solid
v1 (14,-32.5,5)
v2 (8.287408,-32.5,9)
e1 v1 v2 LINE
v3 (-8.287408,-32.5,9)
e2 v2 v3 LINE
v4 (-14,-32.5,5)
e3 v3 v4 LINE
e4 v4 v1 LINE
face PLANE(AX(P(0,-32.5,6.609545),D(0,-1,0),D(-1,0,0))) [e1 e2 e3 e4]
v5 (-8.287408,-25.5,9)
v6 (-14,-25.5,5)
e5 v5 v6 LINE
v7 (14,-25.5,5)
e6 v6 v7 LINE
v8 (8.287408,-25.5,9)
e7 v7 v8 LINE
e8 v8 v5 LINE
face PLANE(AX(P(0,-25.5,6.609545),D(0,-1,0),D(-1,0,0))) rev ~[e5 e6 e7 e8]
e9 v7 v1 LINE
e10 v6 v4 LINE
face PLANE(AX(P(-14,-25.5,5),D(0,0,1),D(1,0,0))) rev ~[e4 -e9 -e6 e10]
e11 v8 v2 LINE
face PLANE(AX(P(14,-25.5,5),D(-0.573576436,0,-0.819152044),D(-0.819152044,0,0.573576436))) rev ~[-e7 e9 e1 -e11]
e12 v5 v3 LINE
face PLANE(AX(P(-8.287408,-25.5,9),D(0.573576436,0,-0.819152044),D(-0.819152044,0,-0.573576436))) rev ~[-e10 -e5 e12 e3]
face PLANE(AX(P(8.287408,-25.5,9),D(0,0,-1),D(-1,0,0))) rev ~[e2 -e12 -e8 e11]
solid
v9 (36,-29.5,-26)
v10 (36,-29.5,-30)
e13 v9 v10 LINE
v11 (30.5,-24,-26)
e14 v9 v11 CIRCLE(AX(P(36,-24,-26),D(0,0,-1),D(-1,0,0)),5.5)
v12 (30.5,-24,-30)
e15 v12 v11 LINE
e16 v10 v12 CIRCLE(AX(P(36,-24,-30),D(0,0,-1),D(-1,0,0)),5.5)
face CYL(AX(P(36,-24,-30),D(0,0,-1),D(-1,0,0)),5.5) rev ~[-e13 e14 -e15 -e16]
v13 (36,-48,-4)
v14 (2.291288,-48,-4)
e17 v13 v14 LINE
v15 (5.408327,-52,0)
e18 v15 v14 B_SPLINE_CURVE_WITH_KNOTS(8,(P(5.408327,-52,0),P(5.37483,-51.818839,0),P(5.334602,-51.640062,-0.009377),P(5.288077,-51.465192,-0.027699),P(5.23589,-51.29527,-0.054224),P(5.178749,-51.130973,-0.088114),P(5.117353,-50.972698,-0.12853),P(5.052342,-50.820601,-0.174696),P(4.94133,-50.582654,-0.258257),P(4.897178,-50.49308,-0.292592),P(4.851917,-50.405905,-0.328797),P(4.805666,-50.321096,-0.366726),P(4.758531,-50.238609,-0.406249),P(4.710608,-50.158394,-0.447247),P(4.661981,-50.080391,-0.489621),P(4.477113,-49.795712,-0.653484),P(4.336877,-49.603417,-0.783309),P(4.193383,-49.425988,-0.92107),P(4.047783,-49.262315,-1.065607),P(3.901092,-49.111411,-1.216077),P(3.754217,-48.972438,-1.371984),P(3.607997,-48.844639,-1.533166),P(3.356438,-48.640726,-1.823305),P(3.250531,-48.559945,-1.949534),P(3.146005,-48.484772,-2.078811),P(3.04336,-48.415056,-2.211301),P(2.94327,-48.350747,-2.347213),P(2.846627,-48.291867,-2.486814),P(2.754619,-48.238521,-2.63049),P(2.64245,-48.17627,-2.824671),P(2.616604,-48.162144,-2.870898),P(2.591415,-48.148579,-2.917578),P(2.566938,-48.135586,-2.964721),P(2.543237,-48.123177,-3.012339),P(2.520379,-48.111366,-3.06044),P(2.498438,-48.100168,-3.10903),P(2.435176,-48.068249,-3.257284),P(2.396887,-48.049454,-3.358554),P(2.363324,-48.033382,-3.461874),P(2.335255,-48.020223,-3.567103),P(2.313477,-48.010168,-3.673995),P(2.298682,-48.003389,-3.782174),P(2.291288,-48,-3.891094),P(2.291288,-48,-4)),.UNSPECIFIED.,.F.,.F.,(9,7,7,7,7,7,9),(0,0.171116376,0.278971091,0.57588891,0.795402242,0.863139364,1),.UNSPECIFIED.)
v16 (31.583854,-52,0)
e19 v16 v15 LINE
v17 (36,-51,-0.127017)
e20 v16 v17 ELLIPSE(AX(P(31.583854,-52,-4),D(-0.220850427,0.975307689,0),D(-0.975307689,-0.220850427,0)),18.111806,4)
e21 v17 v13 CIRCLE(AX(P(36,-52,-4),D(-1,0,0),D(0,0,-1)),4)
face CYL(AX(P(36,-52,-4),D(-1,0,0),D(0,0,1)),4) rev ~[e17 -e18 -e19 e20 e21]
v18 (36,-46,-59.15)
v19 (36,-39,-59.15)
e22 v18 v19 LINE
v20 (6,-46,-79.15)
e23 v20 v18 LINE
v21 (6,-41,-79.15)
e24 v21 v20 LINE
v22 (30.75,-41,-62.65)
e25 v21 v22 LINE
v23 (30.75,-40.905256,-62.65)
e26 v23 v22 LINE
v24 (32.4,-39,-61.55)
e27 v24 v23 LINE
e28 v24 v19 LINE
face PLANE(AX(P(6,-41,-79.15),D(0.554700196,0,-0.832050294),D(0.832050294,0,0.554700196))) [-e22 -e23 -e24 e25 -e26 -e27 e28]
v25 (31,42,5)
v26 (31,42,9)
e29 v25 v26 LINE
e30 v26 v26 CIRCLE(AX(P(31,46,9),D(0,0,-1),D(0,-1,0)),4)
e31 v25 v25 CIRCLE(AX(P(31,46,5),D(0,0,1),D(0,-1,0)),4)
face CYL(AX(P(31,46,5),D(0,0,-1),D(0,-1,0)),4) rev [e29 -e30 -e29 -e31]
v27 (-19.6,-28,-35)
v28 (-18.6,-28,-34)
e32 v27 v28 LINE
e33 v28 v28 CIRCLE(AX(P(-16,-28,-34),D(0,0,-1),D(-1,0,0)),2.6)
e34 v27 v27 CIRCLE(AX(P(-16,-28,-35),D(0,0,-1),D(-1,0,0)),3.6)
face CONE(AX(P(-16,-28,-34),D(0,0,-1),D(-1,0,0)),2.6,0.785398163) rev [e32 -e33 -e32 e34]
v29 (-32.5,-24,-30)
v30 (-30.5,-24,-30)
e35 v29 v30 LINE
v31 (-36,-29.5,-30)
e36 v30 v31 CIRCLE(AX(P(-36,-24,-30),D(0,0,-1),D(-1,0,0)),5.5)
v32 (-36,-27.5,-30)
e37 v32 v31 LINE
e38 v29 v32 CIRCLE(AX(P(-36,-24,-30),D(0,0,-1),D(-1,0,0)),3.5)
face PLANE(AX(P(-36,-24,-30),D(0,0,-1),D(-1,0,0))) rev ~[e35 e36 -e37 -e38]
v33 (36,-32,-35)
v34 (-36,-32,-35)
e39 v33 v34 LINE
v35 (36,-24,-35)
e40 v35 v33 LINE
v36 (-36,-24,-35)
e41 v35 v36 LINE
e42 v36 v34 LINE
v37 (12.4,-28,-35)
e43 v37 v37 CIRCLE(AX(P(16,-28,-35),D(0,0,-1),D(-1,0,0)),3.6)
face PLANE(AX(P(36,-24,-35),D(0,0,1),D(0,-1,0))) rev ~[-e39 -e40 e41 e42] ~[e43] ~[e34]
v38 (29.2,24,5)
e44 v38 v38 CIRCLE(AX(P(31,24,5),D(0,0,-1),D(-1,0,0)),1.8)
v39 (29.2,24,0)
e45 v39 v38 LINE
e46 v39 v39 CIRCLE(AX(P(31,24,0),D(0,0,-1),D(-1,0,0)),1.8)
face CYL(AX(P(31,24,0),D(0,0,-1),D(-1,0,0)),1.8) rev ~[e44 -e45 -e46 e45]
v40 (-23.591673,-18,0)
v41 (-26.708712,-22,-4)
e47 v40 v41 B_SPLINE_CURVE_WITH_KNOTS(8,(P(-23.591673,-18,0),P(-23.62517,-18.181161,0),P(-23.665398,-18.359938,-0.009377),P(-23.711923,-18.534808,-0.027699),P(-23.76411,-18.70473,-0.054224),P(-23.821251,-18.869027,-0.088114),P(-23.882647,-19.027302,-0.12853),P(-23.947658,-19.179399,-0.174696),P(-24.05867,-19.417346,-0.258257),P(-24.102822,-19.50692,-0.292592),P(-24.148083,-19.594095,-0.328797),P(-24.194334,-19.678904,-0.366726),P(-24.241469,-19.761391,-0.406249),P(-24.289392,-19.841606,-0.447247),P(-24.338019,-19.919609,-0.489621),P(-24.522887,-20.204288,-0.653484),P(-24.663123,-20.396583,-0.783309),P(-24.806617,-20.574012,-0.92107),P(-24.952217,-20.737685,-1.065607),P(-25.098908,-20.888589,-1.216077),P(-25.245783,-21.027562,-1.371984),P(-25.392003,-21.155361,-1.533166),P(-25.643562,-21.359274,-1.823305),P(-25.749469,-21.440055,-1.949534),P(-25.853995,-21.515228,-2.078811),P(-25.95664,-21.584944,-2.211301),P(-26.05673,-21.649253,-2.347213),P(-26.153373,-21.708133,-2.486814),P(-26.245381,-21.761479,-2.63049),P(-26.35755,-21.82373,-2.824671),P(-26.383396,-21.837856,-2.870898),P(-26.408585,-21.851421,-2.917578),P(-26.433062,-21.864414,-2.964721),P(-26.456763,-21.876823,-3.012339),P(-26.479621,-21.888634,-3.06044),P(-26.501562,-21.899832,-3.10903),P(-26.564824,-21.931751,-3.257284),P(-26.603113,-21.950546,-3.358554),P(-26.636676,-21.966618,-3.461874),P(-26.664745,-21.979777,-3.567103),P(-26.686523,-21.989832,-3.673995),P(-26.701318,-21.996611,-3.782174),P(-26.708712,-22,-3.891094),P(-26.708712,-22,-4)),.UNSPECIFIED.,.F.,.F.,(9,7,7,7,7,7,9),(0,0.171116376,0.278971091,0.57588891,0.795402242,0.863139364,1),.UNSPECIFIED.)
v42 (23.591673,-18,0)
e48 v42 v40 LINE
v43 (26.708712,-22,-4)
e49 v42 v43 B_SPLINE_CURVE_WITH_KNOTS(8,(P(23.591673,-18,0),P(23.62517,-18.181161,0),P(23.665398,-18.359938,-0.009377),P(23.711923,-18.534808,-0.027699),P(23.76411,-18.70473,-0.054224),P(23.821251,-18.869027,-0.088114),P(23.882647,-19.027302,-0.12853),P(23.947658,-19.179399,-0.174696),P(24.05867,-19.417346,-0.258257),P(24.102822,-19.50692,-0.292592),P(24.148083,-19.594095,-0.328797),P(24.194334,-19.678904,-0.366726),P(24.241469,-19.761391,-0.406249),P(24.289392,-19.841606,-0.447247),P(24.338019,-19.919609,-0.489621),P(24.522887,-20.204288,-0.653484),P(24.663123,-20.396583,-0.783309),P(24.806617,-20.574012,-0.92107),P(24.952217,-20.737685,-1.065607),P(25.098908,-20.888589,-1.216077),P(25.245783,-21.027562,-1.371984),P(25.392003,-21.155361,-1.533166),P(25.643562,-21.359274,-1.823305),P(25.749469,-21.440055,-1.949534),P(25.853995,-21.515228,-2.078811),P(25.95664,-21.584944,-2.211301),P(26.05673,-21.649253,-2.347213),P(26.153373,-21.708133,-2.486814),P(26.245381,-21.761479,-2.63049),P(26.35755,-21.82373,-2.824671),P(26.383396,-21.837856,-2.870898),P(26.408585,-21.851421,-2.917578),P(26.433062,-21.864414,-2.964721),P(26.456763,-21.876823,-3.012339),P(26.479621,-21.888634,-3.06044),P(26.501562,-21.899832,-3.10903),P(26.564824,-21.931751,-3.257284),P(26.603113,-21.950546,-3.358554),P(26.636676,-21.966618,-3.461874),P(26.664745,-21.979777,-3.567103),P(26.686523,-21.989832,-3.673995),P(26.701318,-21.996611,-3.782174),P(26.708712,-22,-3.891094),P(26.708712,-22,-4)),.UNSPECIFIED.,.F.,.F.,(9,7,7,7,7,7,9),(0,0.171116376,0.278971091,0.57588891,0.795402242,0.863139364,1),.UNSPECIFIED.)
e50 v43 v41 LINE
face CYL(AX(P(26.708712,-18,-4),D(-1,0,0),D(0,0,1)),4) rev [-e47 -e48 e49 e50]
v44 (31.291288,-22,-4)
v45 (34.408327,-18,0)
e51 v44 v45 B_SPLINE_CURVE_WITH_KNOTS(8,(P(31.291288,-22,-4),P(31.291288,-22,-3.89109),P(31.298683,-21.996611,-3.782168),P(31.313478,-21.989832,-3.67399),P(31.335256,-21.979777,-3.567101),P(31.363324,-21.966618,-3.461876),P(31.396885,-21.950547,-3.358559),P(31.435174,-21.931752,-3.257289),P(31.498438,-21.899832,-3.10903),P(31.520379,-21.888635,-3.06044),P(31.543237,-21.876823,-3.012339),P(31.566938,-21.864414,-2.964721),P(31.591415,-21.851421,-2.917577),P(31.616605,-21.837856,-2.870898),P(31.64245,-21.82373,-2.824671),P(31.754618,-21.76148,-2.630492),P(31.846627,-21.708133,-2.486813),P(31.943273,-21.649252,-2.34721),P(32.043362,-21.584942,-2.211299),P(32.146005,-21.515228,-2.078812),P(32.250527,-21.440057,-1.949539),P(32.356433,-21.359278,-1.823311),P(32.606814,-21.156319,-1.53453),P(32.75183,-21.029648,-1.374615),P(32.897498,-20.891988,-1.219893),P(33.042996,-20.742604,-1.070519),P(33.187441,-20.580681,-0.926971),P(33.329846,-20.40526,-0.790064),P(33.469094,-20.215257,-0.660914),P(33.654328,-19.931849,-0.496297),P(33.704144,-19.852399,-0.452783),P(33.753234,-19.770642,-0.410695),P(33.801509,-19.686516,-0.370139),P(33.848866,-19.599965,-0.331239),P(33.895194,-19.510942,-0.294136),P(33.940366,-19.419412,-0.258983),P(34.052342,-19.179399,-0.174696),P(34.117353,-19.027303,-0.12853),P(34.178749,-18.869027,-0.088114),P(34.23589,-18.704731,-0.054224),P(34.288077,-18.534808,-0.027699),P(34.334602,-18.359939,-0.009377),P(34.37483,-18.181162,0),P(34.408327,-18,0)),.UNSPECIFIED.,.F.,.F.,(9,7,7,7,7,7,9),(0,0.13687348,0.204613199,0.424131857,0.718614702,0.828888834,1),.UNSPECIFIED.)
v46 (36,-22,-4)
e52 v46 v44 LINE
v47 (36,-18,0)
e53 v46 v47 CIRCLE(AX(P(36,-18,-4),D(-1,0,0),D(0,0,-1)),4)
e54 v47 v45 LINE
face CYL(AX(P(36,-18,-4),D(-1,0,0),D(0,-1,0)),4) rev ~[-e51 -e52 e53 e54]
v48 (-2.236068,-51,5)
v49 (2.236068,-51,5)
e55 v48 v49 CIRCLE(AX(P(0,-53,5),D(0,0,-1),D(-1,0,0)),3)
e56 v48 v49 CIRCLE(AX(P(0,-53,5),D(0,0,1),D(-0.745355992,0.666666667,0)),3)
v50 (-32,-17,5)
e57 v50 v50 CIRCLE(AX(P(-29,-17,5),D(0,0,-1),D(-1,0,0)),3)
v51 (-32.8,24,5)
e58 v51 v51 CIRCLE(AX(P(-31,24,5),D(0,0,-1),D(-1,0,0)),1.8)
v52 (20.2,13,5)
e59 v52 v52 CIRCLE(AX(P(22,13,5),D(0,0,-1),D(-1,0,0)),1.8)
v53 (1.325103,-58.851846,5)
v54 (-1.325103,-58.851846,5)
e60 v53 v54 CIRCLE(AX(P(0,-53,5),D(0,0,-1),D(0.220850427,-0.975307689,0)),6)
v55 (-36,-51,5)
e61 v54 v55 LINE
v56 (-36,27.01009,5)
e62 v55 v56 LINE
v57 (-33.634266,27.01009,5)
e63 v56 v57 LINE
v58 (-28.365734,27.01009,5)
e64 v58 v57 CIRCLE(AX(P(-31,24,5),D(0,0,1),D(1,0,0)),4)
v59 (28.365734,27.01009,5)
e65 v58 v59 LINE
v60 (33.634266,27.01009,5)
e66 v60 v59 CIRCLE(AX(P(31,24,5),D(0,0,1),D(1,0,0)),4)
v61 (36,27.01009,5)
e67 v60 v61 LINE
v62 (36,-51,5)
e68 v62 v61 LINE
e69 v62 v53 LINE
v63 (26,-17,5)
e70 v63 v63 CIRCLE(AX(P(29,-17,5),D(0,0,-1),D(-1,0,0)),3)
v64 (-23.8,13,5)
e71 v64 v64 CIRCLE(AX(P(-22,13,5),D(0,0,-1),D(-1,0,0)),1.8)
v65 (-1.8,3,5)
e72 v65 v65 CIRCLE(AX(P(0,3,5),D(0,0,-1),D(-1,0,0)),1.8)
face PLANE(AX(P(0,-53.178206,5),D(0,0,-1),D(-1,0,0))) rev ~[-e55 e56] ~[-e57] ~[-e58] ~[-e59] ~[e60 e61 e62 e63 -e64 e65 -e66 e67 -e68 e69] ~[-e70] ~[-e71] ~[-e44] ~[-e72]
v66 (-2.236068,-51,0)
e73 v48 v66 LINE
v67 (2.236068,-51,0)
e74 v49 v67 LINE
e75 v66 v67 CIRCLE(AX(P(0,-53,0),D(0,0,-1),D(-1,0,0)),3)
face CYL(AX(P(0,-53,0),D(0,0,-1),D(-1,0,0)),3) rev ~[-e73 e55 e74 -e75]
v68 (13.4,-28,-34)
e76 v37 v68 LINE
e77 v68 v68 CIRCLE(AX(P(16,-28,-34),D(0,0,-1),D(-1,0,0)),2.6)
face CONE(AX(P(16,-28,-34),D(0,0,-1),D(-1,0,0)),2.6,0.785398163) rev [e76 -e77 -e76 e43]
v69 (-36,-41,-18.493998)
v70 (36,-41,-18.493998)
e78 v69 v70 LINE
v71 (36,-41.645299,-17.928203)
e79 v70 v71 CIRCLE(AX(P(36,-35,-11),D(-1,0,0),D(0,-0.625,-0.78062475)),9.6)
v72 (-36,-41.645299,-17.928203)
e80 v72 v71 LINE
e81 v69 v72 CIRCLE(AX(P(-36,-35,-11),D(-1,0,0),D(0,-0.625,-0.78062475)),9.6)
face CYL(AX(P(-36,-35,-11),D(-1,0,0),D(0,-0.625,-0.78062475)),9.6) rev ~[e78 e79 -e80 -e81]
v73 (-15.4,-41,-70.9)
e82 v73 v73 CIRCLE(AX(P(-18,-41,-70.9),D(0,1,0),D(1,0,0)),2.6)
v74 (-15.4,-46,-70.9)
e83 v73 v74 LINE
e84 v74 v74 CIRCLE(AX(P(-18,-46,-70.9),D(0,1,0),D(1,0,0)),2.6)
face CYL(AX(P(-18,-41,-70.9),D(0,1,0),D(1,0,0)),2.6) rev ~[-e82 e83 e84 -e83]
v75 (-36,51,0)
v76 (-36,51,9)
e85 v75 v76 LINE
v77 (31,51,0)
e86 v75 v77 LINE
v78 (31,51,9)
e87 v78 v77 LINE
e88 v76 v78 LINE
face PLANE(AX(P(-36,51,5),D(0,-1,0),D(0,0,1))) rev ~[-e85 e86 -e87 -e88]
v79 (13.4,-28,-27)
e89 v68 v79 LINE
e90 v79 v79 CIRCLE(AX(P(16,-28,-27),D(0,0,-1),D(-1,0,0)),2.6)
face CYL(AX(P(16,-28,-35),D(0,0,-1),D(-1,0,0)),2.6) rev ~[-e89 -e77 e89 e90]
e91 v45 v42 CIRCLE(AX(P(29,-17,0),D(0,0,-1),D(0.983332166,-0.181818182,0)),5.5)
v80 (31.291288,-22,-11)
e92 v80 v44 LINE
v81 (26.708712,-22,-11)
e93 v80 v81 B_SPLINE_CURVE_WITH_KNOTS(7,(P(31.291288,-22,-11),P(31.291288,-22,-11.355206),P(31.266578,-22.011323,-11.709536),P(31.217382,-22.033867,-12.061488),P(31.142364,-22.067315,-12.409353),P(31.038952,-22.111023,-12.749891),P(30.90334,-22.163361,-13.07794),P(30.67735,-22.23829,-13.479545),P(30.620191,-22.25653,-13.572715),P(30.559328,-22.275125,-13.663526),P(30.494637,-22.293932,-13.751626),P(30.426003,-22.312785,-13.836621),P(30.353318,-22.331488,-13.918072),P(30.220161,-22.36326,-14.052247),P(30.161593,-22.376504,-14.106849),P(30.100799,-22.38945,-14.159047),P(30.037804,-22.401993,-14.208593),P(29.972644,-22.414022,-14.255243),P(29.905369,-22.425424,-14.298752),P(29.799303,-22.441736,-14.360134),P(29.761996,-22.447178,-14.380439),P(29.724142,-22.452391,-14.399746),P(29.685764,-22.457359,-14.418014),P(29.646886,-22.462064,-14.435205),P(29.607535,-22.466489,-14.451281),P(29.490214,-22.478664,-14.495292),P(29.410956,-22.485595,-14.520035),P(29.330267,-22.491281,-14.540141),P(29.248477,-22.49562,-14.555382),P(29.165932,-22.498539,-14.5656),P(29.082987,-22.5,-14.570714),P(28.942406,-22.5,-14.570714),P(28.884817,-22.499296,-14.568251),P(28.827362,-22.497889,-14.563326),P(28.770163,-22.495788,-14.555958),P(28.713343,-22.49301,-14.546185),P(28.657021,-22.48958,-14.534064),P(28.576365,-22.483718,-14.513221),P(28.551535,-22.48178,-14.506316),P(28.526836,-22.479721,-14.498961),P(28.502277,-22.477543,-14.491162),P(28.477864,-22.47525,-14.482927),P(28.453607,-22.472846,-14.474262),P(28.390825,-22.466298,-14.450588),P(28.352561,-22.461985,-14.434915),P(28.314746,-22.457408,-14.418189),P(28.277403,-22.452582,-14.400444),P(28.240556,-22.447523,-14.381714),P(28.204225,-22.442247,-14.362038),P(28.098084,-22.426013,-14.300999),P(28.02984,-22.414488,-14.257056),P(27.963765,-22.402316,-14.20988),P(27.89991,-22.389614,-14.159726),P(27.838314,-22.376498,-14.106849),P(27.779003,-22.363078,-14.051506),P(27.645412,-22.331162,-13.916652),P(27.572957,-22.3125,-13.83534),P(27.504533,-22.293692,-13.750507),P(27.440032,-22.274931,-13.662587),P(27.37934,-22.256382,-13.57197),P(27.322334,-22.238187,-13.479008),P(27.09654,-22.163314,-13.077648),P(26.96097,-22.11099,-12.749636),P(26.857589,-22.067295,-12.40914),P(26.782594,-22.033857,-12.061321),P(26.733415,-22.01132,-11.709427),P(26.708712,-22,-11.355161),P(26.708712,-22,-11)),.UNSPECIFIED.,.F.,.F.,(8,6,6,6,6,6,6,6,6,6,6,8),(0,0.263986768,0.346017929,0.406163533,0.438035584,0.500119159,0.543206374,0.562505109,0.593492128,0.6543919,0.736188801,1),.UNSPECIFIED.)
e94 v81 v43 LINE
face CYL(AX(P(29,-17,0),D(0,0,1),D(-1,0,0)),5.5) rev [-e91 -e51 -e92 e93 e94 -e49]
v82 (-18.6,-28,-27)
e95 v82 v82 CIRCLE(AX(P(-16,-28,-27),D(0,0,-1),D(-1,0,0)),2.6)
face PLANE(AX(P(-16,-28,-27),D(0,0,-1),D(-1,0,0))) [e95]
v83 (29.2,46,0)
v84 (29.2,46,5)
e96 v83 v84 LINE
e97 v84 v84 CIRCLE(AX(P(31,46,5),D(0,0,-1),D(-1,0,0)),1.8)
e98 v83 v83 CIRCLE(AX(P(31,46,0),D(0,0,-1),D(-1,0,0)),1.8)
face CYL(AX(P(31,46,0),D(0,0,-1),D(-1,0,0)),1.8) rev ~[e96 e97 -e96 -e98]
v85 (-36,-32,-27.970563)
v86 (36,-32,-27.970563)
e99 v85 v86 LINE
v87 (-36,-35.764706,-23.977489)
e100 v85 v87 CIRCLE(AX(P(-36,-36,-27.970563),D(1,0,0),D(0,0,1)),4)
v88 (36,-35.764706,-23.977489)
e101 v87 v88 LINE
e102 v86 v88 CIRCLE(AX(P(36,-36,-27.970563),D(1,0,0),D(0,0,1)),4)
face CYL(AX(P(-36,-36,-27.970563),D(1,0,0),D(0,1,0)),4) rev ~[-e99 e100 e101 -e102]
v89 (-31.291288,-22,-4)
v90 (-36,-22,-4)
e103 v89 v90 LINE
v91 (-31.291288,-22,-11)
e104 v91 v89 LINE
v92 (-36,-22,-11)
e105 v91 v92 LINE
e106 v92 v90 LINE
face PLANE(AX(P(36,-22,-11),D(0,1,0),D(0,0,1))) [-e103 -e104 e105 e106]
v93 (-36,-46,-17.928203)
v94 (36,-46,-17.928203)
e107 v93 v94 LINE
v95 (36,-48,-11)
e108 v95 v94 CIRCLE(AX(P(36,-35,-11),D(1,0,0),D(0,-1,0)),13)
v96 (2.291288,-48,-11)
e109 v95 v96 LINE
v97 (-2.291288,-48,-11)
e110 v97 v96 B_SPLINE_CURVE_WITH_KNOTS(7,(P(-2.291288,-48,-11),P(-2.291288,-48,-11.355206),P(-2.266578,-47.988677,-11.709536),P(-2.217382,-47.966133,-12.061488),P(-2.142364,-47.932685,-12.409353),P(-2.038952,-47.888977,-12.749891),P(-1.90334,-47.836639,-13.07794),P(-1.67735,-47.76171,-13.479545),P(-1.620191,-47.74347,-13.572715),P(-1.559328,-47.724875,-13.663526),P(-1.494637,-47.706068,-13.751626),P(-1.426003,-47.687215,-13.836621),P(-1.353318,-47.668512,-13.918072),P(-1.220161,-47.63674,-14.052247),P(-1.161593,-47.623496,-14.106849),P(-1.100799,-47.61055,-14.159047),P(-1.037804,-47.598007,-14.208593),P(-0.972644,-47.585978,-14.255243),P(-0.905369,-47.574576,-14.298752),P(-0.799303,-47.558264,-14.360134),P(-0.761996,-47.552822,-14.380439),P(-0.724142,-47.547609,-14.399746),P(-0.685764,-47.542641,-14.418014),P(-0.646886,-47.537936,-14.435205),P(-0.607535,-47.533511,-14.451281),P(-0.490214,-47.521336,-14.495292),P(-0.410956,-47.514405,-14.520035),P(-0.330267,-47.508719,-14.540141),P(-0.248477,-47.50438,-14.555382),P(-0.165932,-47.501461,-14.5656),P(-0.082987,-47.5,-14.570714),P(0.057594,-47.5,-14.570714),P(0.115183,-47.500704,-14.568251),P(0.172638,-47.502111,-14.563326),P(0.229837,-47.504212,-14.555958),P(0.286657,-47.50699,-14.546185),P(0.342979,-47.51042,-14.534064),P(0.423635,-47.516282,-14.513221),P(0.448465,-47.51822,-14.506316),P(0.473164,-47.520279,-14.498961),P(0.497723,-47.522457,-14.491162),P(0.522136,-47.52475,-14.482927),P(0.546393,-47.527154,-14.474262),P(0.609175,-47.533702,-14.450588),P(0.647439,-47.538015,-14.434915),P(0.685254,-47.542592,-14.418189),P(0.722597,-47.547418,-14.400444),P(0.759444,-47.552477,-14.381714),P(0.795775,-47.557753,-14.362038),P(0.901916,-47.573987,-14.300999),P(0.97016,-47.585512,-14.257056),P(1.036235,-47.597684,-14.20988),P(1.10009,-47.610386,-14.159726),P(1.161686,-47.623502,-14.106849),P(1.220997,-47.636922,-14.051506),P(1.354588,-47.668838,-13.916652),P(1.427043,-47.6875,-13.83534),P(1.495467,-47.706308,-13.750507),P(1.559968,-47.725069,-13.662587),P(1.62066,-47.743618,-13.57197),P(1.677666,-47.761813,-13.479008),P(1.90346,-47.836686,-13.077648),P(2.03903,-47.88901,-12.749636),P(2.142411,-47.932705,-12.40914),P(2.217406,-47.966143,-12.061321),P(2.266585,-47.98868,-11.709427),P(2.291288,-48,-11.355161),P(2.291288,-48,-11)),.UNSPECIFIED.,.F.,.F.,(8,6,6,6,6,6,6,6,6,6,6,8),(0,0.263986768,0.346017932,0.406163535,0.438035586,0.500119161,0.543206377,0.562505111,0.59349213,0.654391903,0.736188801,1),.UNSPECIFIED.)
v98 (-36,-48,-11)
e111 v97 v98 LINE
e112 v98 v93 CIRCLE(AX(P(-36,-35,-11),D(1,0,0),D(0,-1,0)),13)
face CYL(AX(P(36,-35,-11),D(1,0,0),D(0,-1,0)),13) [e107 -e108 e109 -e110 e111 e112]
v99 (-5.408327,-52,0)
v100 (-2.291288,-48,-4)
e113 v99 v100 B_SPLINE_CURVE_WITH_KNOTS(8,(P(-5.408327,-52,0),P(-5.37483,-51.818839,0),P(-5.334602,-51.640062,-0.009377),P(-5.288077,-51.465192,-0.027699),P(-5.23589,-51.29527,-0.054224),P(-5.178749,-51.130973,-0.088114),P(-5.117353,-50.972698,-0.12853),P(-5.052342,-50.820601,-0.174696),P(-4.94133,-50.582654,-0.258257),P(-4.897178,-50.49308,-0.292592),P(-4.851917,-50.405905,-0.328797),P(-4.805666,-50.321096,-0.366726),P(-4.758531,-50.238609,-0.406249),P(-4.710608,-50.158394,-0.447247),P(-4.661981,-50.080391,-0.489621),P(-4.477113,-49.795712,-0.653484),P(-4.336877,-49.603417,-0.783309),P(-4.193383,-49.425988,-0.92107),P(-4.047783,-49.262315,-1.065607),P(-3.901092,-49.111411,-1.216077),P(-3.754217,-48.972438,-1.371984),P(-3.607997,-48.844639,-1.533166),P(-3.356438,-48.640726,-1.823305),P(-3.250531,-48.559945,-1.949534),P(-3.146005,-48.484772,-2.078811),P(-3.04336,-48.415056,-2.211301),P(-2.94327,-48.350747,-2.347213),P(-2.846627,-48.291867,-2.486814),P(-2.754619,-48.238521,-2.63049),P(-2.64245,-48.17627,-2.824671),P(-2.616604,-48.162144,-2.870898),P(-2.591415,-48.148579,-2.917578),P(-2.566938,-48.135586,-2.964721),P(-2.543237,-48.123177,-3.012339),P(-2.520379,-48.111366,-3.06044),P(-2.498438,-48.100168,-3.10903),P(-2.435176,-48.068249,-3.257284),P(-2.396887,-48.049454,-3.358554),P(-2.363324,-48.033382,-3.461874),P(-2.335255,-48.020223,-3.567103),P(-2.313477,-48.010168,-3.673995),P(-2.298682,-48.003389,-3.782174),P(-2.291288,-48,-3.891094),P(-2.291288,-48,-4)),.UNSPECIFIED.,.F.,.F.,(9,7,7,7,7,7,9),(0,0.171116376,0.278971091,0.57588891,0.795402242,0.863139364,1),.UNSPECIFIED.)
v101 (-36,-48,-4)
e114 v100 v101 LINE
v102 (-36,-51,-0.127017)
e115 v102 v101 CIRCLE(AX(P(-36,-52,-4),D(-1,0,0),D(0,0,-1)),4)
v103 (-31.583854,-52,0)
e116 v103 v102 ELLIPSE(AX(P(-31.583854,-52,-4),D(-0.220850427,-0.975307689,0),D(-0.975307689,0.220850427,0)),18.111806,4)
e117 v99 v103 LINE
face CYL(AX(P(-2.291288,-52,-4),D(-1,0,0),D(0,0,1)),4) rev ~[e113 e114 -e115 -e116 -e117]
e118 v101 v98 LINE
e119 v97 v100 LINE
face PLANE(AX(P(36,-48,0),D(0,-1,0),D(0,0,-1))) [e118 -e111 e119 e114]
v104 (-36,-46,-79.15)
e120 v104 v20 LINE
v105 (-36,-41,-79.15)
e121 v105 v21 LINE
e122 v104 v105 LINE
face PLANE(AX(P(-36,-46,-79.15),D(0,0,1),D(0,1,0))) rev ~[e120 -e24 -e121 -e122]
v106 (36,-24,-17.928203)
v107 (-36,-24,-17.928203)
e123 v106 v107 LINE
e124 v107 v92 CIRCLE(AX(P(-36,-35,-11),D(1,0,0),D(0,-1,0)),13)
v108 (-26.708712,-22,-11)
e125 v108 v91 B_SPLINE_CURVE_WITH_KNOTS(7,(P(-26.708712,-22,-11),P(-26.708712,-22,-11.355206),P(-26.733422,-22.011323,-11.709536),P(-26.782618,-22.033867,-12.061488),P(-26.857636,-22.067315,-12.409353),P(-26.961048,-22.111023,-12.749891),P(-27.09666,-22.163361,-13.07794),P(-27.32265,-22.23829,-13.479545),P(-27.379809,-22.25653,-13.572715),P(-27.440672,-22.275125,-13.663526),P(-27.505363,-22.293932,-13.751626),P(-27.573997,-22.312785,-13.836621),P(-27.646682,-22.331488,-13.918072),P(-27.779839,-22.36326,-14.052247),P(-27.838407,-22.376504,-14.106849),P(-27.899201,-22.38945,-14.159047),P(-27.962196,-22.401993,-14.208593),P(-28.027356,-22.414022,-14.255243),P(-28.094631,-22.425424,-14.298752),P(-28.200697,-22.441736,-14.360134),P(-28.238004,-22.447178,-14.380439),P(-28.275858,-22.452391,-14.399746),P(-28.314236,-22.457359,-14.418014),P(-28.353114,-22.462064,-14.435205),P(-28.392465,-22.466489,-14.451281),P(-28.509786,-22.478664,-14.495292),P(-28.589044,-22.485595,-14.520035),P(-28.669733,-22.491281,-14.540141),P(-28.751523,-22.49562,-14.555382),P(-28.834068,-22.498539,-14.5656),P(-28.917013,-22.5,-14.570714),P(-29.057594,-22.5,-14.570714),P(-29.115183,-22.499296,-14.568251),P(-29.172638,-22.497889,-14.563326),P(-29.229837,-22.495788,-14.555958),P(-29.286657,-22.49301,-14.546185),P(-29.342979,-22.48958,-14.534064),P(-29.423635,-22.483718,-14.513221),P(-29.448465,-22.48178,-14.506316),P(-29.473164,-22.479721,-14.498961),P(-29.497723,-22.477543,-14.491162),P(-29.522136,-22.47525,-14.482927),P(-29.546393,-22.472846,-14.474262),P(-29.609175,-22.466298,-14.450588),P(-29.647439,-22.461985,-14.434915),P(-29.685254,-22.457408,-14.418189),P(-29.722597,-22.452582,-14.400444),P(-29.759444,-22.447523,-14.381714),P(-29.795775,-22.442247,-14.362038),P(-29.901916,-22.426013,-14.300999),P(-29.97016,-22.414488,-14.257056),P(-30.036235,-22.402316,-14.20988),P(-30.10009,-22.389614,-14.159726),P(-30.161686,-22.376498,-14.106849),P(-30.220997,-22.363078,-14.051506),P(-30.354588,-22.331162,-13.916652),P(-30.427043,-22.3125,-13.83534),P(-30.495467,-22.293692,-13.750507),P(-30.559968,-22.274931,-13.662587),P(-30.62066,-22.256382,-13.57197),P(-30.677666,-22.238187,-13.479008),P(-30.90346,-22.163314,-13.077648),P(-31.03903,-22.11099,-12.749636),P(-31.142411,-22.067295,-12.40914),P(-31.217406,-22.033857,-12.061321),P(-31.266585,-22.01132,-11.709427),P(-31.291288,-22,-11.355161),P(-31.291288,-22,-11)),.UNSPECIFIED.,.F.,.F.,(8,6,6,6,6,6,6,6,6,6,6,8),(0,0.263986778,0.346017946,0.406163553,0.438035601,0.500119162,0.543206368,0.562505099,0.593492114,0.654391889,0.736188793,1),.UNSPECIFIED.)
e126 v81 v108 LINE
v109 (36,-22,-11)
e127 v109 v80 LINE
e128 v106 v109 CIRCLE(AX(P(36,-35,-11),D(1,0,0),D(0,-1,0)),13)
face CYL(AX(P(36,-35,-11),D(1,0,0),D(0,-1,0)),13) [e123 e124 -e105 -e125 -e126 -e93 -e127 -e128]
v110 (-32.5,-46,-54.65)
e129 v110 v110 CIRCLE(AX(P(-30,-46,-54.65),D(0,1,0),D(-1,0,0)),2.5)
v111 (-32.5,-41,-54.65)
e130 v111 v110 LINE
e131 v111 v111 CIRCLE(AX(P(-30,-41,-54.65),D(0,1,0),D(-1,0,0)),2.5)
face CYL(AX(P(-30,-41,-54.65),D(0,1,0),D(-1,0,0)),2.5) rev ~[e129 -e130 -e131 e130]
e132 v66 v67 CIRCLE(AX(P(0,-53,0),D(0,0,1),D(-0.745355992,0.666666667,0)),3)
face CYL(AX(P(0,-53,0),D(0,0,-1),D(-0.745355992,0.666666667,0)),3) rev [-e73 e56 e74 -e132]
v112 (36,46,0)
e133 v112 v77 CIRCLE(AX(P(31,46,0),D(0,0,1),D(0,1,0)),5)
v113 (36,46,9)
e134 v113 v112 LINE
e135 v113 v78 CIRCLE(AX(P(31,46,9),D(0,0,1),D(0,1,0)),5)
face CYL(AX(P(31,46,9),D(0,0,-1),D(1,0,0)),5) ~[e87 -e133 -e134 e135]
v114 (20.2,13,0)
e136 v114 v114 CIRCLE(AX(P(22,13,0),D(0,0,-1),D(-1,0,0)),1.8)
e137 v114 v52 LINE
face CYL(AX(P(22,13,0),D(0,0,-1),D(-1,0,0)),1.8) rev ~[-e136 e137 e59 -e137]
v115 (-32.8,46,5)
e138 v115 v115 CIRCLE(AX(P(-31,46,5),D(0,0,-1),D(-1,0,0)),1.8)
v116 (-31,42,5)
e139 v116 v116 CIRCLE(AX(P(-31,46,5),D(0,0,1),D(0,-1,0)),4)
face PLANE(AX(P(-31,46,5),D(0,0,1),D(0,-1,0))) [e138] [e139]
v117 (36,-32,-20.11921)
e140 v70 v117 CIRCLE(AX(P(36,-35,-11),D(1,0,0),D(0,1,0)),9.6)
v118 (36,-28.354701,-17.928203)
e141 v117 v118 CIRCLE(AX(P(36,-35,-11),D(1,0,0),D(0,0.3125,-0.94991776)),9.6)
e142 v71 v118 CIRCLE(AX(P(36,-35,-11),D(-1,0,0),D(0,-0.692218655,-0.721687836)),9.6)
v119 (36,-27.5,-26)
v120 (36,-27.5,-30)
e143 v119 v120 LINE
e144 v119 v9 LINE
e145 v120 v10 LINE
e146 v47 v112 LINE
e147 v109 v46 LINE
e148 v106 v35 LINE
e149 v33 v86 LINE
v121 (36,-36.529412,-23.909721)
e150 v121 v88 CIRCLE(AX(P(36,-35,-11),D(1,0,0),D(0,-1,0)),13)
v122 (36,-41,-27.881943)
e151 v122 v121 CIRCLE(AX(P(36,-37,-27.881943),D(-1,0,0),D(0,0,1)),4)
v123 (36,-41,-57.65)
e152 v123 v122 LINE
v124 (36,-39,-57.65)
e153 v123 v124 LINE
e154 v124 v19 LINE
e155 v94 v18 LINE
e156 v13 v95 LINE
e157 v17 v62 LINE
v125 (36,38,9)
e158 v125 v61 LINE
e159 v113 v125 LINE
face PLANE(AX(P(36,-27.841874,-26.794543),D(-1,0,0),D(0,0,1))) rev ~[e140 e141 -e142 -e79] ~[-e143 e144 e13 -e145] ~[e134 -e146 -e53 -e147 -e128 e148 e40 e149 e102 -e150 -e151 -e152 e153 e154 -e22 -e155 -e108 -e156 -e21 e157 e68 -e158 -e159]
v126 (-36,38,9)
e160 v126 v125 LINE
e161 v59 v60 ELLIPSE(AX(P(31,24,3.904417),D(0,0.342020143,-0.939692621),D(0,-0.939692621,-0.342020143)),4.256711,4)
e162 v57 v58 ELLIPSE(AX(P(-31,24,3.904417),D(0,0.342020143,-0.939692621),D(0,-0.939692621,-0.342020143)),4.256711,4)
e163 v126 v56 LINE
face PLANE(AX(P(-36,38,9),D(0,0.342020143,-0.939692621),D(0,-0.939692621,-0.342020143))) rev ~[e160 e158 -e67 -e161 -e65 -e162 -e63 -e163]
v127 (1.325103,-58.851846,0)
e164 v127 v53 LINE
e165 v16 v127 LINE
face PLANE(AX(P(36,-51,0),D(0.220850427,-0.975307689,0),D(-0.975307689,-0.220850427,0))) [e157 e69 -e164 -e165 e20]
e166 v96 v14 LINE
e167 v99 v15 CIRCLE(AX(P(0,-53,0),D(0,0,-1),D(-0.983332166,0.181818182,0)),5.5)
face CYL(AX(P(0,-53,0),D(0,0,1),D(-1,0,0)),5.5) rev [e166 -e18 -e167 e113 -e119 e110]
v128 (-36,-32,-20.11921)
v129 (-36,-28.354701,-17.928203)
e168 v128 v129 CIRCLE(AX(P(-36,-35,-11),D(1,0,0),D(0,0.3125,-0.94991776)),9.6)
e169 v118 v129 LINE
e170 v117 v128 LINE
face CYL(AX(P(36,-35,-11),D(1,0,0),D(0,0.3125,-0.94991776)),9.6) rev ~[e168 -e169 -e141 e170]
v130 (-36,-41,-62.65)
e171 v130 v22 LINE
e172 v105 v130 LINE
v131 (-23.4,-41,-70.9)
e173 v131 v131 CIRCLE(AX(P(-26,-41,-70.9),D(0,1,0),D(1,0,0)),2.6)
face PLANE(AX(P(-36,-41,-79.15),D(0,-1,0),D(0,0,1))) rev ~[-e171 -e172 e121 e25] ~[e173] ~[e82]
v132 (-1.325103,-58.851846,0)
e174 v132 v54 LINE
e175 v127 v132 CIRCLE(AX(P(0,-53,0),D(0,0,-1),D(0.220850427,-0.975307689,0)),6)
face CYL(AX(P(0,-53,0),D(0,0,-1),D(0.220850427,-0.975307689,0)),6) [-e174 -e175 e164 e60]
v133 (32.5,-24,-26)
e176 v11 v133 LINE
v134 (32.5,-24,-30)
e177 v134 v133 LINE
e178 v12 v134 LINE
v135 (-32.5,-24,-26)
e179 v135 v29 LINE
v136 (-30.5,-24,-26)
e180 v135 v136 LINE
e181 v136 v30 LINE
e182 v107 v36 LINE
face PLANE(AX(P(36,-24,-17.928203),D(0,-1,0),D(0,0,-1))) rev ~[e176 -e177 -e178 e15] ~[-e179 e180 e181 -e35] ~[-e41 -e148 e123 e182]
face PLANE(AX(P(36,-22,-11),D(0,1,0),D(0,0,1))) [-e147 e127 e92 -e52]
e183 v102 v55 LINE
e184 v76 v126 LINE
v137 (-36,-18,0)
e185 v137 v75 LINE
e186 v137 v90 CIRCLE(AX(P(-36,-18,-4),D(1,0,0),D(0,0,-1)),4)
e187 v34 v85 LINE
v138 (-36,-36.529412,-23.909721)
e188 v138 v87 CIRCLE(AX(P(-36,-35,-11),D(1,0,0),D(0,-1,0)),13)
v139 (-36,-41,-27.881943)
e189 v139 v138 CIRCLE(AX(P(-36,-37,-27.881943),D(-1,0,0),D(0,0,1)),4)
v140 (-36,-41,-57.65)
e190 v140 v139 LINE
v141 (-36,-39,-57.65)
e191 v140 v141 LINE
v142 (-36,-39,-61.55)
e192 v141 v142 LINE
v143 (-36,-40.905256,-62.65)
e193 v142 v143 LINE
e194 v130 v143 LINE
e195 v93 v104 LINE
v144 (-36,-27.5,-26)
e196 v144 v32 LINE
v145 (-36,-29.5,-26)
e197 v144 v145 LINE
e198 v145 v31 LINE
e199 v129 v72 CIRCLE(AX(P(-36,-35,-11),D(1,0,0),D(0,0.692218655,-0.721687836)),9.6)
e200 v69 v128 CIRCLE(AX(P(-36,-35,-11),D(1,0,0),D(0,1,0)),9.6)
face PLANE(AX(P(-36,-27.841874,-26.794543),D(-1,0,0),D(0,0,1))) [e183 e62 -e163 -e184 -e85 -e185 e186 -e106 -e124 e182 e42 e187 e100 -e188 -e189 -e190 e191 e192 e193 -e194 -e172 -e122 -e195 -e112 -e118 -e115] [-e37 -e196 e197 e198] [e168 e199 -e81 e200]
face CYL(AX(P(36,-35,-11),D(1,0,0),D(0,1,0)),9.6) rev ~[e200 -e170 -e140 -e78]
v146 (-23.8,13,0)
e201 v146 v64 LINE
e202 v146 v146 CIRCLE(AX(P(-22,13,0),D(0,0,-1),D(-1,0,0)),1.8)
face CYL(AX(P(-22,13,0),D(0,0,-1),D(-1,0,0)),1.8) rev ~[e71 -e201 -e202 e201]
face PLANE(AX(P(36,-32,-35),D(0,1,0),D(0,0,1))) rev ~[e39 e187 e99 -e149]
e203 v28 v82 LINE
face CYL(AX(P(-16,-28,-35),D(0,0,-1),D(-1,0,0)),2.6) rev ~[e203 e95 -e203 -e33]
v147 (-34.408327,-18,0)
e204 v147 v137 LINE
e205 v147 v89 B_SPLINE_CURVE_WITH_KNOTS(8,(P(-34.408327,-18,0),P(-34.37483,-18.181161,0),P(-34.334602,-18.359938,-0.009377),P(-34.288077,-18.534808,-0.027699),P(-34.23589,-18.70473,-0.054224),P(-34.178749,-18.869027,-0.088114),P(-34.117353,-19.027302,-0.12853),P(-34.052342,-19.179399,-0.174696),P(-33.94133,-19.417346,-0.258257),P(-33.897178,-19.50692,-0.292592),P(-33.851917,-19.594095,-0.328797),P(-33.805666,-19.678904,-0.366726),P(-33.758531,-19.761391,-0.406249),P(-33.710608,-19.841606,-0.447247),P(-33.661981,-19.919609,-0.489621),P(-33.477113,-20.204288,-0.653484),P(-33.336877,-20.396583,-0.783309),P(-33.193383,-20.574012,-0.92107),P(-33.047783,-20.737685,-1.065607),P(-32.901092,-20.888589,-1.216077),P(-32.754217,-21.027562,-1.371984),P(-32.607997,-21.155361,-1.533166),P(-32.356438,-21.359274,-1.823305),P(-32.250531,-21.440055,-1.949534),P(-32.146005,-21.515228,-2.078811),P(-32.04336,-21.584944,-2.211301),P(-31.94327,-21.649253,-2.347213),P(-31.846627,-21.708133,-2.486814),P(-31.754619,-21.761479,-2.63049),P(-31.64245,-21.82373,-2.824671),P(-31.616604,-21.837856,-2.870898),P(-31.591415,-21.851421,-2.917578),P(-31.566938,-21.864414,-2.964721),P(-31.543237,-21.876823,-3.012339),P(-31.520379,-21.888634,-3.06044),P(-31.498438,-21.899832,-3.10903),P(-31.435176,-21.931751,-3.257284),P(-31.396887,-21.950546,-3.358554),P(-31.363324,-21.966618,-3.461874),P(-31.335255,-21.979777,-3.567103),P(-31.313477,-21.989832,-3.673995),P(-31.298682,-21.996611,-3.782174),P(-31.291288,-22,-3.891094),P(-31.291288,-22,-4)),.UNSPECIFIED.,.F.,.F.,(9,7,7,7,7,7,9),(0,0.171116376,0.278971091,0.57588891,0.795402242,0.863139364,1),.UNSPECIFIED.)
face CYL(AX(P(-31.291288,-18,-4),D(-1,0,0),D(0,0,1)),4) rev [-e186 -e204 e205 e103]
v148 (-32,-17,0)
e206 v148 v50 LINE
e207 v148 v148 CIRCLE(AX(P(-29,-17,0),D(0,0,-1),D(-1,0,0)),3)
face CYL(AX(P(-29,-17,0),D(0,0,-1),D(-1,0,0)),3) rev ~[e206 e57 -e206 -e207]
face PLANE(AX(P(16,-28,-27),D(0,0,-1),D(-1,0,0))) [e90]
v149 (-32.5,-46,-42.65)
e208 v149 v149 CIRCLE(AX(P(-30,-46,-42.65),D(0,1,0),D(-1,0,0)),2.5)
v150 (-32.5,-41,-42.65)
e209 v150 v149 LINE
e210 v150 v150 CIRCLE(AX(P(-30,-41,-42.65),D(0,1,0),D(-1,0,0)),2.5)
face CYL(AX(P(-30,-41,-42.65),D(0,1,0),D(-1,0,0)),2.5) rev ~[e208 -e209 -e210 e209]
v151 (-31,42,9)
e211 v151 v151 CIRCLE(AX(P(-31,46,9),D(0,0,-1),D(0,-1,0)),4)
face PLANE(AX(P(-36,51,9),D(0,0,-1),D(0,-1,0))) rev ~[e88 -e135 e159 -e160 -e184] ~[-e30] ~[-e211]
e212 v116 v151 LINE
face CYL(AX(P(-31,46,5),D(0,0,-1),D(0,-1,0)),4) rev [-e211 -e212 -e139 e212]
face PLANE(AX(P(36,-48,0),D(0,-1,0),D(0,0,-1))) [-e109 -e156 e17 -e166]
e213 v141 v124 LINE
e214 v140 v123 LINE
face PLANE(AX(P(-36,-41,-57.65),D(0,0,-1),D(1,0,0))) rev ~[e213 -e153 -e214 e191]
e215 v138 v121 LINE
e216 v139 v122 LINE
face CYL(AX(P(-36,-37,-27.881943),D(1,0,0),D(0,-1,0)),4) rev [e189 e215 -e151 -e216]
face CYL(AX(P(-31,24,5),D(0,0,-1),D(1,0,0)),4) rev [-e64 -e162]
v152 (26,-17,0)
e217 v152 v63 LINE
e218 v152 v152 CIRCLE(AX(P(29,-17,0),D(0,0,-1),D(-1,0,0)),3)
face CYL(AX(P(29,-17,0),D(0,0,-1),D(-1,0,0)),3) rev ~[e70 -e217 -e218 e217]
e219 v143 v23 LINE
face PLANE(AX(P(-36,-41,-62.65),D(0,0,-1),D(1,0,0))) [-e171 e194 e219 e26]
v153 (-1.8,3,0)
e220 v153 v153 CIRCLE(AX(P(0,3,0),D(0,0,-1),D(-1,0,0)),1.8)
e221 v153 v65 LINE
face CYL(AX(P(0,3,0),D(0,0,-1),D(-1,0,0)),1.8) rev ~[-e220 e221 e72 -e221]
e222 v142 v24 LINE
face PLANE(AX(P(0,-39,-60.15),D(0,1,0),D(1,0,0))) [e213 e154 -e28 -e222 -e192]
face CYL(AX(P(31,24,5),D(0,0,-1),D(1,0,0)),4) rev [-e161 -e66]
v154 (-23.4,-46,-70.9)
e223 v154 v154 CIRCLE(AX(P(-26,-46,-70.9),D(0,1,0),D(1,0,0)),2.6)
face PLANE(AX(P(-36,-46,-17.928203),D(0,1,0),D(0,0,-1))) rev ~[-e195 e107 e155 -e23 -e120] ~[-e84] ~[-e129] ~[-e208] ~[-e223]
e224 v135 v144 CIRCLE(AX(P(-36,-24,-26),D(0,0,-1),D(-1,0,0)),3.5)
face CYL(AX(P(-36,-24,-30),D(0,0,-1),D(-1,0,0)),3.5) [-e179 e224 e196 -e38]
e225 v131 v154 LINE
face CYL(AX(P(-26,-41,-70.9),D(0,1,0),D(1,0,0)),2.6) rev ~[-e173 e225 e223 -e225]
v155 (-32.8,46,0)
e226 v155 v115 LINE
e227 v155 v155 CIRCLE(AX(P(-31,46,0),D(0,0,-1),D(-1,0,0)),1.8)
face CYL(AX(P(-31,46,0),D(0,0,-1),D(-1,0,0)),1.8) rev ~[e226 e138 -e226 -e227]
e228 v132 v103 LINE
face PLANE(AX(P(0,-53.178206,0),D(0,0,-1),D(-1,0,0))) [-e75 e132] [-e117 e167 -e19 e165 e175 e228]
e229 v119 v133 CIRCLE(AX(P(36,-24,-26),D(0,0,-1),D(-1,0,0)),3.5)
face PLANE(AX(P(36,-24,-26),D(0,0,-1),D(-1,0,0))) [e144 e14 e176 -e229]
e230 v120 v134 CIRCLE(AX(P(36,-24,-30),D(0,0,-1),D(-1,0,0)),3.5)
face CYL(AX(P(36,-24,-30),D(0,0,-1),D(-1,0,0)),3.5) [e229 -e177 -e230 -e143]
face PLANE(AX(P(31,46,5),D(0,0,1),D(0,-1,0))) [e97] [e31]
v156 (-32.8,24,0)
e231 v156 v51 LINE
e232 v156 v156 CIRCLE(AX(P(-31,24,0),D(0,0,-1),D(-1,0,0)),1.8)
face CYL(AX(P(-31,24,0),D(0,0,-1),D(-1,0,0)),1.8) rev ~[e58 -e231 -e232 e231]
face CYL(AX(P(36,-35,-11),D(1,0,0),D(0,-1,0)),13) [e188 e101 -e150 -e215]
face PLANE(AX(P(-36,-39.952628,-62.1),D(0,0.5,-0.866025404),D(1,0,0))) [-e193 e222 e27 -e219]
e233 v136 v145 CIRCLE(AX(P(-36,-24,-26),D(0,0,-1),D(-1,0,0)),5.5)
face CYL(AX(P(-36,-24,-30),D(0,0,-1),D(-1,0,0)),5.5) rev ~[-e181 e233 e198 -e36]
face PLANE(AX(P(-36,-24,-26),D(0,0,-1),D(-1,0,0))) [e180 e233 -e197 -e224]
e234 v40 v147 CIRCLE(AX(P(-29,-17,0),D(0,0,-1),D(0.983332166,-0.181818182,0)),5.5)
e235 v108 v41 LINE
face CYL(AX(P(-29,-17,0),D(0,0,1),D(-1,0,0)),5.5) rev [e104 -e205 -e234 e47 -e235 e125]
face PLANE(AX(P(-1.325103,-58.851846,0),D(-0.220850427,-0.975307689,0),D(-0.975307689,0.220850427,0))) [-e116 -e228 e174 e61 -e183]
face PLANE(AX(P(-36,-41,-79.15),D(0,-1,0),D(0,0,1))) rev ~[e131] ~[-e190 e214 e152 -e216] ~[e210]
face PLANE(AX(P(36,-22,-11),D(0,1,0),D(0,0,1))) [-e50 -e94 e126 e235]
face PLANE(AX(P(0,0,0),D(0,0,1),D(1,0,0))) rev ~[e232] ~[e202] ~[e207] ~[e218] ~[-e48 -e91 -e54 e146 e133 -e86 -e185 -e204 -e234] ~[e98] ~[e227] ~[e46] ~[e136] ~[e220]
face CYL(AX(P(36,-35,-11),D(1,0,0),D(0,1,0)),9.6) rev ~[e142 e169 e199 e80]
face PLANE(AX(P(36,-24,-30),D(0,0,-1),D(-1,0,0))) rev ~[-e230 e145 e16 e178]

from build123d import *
from build123d.topology import SkipClean

# Parameters (mm, degrees)
SKETCH1_W               = 72
SKETCH1_H               = 102
BOSS_EXTRUDE1_DEPTH     = 5
BOSS_EXTRUDE4_DEPTH     = 72
SKETCH7_R               = 1.8
CUT_EXTRUDE4_DEPTH      = 64.071388125
SKETCH8_R               = 9.6
BOSS_EXTRUDE2_DEPTH     = 72
SKETCH9_R               = 3
CUT_EXTRUDE5_DEPTH      = 67.880490429
CUT_EXTRUDE5_DEPTH_BACK = 67.880490429
BOSS_EXTRUDE3_DEPTH     = 5
SKETCH11_R              = 5.5
CUT_EXTRUDE6_DEPTH      = 74.164198895
FILLET1_R               = 4
SKETCH13_R              = 4
CUT_EXTRUDE7_DEPTH      = 75.953318892
BOSS_EXTRUDE5_START     = -25.5
BOSS_EXTRUDE5_DEPTH     = 7
FILLET2_R               = 5
BOSS_EXTRUDE6_DEPTH     = 72
SKETCH17_W              = 72
SKETCH17_H              = 5
BOSS_EXTRUDE7_DEPTH     = 2
CHAMFER1_SIZE           = 1.1
CHAMFER1_SIZE2          = 1.905255888
SKETCH18_R              = 2.6
CUT_EXTRUDE9_DEPTH      = 2
CUT_EXTRUDE9_DEPTH_BACK = 127.588792976
BOSS_EXTRUDE8_DEPTH     = 72
FILLET3_R               = 4
SKETCH20_R              = 2.6
CUT_EXTRUDE10_DEPTH     = 8
SKETCH21_R              = 5.5
SKETCH21_R_2            = 3.5
CUT_EXTRUDE11_DEPTH     = 4
CHAMFER2_SIZE           = 1
SKETCH22_R              = 2.5
CUT_EXTRUDE12_DEPTH     = 127.588792976


with BuildPart() as part:
    # Sketch1 → Boss-Extrude1 (new body)
    with BuildSketch(Plane.XY):
        Rectangle(SKETCH1_W, SKETCH1_H)
    extrude(amount=BOSS_EXTRUDE1_DEPTH)

    # Sketch12 → Boss-Extrude4 (add)
    with BuildSketch(Plane.ZY.offset(36)):
        Polygon((5, 51), (9, 51), (9, 38), (5, 27.010090322), align=None)
    extrude(amount=-BOSS_EXTRUDE4_DEPTH)

    # Sketch7 → Cut-Extrude4 (cut, through all)
    with BuildSketch(Plane(origin=(0, 0, 0), x_dir=(-1, 0, 0), z_dir=(0, 0, -1))):
        with Locations((31, 24)):
            Circle(SKETCH7_R)
        with Locations((31, 46)):
            Circle(SKETCH7_R)
        with Locations((-31, 24)):
            Circle(SKETCH7_R)
        with Locations((-31, 46)):
            Circle(SKETCH7_R)
        with Locations((0, 3)):
            Circle(SKETCH7_R)
        with Locations((22, 13)):
            Circle(SKETCH7_R)
        with Locations((-22, 13)):
            Circle(SKETCH7_R)
    extrude(amount=-CUT_EXTRUDE4_DEPTH, mode=Mode.SUBTRACT)

    # Sketch8 → Boss-Extrude2 (add)
    with BuildSketch(Plane(origin=(36, 0, 0), x_dir=(0, 0, -1), z_dir=(1, 0, 0))):
        with BuildLine():
            Line((11, -22), (0, -22))
            Line((0, -22), (0, -48))
            Line((0, -48), (11, -48))
            ThreePointArc((11, -48), (24, -35), (11, -22))
        make_face()
        with Locations(Location((11, -35, 0), (0, 0, 90))):
            Circle(SKETCH8_R, mode=Mode.SUBTRACT)
    extrude(amount=-BOSS_EXTRUDE2_DEPTH)

    # Sketch9 → Cut-Extrude5 (cut, two sides)
    with BuildSketch(Plane(origin=(0, 0, 0), x_dir=(-1, 0, 0), z_dir=(0, 0, -1))) as cut_extrude5_sk:
        with Locations((-29, -17)):
            Circle(SKETCH9_R)
        with Locations((29, -17)):
            Circle(SKETCH9_R)
        with Locations((0, -53)):
            Circle(SKETCH9_R)
    extrude(amount=CUT_EXTRUDE5_DEPTH, mode=Mode.SUBTRACT)
    extrude(cut_extrude5_sk.sketch, amount=-CUT_EXTRUDE5_DEPTH_BACK, mode=Mode.SUBTRACT)

    # Sketch10 → Boss-Extrude3 (add)
    with BuildSketch(Plane(origin=(0, 0, 0), x_dir=(-1, 0, 0), z_dir=(0, 0, -1))):
        with BuildLine():
            Line((-36, -51), (-1.325102563, -58.851846136))
            ThreePointArc((-1.325102563, -58.851846136), (0, -59), (1.325102563, -58.851846136))
            Line((1.325102563, -58.851846136), (36, -51))
            Line((36, -51), (2.236067977, -51))
            ThreePointArc((2.236067977, -51), (0, -56), (-2.236067977, -51))
            Line((-2.236067977, -51), (-36, -51))
        make_face()
    extrude(amount=-BOSS_EXTRUDE3_DEPTH)

    # Sketch11 → Cut-Extrude6 (cut, through all)
    with BuildSketch(Plane(origin=(0, 0, 0), x_dir=(-1, 0, 0), z_dir=(0, 0, -1))):
        with Locations((-29, -17)):
            Circle(SKETCH11_R)
        with Locations((29, -17)):
            Circle(SKETCH11_R)
        with Locations((0, -53)):
            Circle(SKETCH11_R)
    extrude(amount=CUT_EXTRUDE6_DEPTH, mode=Mode.SUBTRACT)

    # Fillet1
    fillet1_edges = [part.edges().sort_by_distance(p)[0] for p in [
        (33.645643924, -22, 0),
        (0, -22, 0),
        (19.145643924, -48, 0),
        (-33.645643924, -22, 0),
        (-19.145643924, -48, 0),
    ]]
    fillet(fillet1_edges, radius=FILLET1_R)

    # Sketch13 → Cut-Extrude7 (cut, through all)
    with BuildSketch(Plane.XY.offset(5)):
        with Locations((-31, 24)):
            Circle(SKETCH13_R)
        with Locations((31, 24)):
            Circle(SKETCH13_R)
        with Locations(Location((31, 46, 0), (0, 0, 270))):
            Circle(SKETCH13_R)
        with Locations(Location((-31, 46, 0), (0, 0, 270))):
            Circle(SKETCH13_R)
    extrude(amount=CUT_EXTRUDE7_DEPTH, mode=Mode.SUBTRACT)

    # Fillet2
    fillet2_edges = [part.edges().sort_by_distance(p)[0] for p in [
        (36, 51, 4.5),
    ]]
    fillet(fillet2_edges, radius=FILLET2_R)

    # Sketch16 → Boss-Extrude6 (add)
    with SkipClean():  # the faces are left unmerged after this step: merging them gives an invalid solid
        with BuildSketch(Plane.ZY.offset(36)):
            with BuildLine():
                Line((-79.15, -41), (-18.493997598, -41))
                ThreePointArc((-18.493997598, -41), (-18.218315033, -41.328975279), (-17.92820323, -41.64529909))
                Line((-17.92820323, -41.64529909), (-17.92820323, -46))
                Line((-17.92820323, -46), (-79.15, -46))
                Line((-79.15, -46), (-79.15, -41))
            make_face()
        extrude(amount=-BOSS_EXTRUDE6_DEPTH)

    # Sketch17 → Boss-Extrude7 (add)
    with SkipClean():  # the faces are left unmerged after this step: merging them gives an invalid solid
        with BuildSketch(Plane(origin=(0, -41, 0), x_dir=(1, 0, 0), z_dir=(0, 1, 0))):
            with Locations((0, 60.15)):
                Rectangle(SKETCH17_W, SKETCH17_H)
        extrude(amount=BOSS_EXTRUDE7_DEPTH)

    # Chamfer1
    chamfer1_edges = [part.edges().sort_by_distance(p)[0] for p in [
        (0, -39, -62.65),
    ]]
    chamfer1_side = [part.faces().sort_by_distance(p)[0] for p in [
        (0, -39, -60.15),
    ]]
    chamfer(chamfer1_edges, length=CHAMFER1_SIZE, length2=CHAMFER1_SIZE2, reference=chamfer1_side[0])

    # Sketch18 → Cut-Extrude9 (cut, two sides)
    with SkipClean():  # the faces are left unmerged after this step: merging them gives an invalid solid
        with BuildSketch(Plane(origin=(0, -41, 0), x_dir=(1, 0, 0), z_dir=(0, 1, 0))) as cut_extrude9_sk:
            with Locations((-26, 70.9)):
                Circle(SKETCH18_R)
            with Locations((-18, 70.9)):
                Circle(SKETCH18_R)
            Polygon((6, 79.15), (36, 59.15), (36, 79.15), align=None)
        extrude(amount=CUT_EXTRUDE9_DEPTH, mode=Mode.SUBTRACT)
        extrude(cut_extrude9_sk.sketch, amount=-CUT_EXTRUDE9_DEPTH_BACK, mode=Mode.SUBTRACT)

    # Sketch19 → Boss-Extrude8 (add)
    with SkipClean():  # the faces are left unmerged after this step: merging them gives an invalid solid
        with BuildSketch(Plane(origin=(36, 0, 0), x_dir=(0, 0, -1), z_dir=(1, 0, 0))):
            with BuildLine():
                Line((17.92820323, -24), (35, -24))
                Line((35, -24), (35, -32))
                Line((35, -32), (20.119210492, -32))
                ThreePointArc((20.119210492, -32), (19.228117838, -30.054489223), (17.92820323, -28.35470091))
                Line((17.92820323, -28.35470091), (17.92820323, -24))
            make_face()
        extrude(amount=-BOSS_EXTRUDE8_DEPTH)

    # Fillet3
    fillet3_edges = [part.edges().sort_by_distance(p)[0] for p in [
        (0, -41, -22.532562595),
        (0, -32, -23.649110641),
    ]]
    fillet(fillet3_edges, radius=FILLET3_R)

    # Sketch20 → Cut-Extrude10 (cut)
    with SkipClean():  # the faces are left unmerged after this step: merging them gives an invalid solid
        with BuildSketch(Plane(origin=(0, 0, -35), x_dir=(-1, 0, 0), z_dir=(0, 0, -1))):
            with Locations((-16, -28)):
                Circle(SKETCH20_R)
            with Locations((16, -28)):
                Circle(SKETCH20_R)
        extrude(amount=-CUT_EXTRUDE10_DEPTH, mode=Mode.SUBTRACT)

    # Sketch21 → Cut-Extrude11 (cut)
    with SkipClean():  # the faces are left unmerged after this step: merging them gives an invalid solid
        with BuildSketch(Plane(origin=(0, 0, -30), x_dir=(-1, 0, 0), z_dir=(0, 0, -1))):
            with Locations((-36, -24)):
                Circle(SKETCH21_R)
            with Locations((-36, -24)):
                Circle(SKETCH21_R_2, mode=Mode.SUBTRACT)
            with Locations((36, -24)):
                Circle(SKETCH21_R)
            with Locations((36, -24)):
                Circle(SKETCH21_R_2, mode=Mode.SUBTRACT)
        extrude(amount=-CUT_EXTRUDE11_DEPTH, mode=Mode.SUBTRACT)

    # Chamfer2
    chamfer2_edges = [part.edges().sort_by_distance(p)[0] for p in [
        (18.6, -28, -35),
        (-13.4, -28, -35),
    ]]
    chamfer(chamfer2_edges, length=CHAMFER2_SIZE)

    # Sketch22 → Cut-Extrude12 (cut, through all)
    with SkipClean():  # the faces are left unmerged after this step: merging them gives an invalid solid
        with BuildSketch(Plane(origin=(0, -41, 0), x_dir=(1, 0, 0), z_dir=(0, 1, 0))):
            with Locations(Location((-30, 54.65, 0), (0, 0, 180))):
                Circle(SKETCH22_R)
            with Locations(Location((-30, 42.65, 0), (0, 0, 180))):
                Circle(SKETCH22_R)
        extrude(amount=-CUT_EXTRUDE12_DEPTH, mode=Mode.SUBTRACT)


with BuildPart() as body_2:
    # Sketch15 → Boss-Extrude5 (new body)
    with BuildSketch(Plane(origin=(0, 0, 0), x_dir=(1, 0, 0), z_dir=(0, 1, 0)).offset(BOSS_EXTRUDE5_START)):
        Polygon((-14, -5), (14, -5), (8.287407973, -9), (-8.287407973, -9), align=None)
    extrude(amount=-BOSS_EXTRUDE5_DEPTH)


solid = Compound([part.part, body_2.part])
